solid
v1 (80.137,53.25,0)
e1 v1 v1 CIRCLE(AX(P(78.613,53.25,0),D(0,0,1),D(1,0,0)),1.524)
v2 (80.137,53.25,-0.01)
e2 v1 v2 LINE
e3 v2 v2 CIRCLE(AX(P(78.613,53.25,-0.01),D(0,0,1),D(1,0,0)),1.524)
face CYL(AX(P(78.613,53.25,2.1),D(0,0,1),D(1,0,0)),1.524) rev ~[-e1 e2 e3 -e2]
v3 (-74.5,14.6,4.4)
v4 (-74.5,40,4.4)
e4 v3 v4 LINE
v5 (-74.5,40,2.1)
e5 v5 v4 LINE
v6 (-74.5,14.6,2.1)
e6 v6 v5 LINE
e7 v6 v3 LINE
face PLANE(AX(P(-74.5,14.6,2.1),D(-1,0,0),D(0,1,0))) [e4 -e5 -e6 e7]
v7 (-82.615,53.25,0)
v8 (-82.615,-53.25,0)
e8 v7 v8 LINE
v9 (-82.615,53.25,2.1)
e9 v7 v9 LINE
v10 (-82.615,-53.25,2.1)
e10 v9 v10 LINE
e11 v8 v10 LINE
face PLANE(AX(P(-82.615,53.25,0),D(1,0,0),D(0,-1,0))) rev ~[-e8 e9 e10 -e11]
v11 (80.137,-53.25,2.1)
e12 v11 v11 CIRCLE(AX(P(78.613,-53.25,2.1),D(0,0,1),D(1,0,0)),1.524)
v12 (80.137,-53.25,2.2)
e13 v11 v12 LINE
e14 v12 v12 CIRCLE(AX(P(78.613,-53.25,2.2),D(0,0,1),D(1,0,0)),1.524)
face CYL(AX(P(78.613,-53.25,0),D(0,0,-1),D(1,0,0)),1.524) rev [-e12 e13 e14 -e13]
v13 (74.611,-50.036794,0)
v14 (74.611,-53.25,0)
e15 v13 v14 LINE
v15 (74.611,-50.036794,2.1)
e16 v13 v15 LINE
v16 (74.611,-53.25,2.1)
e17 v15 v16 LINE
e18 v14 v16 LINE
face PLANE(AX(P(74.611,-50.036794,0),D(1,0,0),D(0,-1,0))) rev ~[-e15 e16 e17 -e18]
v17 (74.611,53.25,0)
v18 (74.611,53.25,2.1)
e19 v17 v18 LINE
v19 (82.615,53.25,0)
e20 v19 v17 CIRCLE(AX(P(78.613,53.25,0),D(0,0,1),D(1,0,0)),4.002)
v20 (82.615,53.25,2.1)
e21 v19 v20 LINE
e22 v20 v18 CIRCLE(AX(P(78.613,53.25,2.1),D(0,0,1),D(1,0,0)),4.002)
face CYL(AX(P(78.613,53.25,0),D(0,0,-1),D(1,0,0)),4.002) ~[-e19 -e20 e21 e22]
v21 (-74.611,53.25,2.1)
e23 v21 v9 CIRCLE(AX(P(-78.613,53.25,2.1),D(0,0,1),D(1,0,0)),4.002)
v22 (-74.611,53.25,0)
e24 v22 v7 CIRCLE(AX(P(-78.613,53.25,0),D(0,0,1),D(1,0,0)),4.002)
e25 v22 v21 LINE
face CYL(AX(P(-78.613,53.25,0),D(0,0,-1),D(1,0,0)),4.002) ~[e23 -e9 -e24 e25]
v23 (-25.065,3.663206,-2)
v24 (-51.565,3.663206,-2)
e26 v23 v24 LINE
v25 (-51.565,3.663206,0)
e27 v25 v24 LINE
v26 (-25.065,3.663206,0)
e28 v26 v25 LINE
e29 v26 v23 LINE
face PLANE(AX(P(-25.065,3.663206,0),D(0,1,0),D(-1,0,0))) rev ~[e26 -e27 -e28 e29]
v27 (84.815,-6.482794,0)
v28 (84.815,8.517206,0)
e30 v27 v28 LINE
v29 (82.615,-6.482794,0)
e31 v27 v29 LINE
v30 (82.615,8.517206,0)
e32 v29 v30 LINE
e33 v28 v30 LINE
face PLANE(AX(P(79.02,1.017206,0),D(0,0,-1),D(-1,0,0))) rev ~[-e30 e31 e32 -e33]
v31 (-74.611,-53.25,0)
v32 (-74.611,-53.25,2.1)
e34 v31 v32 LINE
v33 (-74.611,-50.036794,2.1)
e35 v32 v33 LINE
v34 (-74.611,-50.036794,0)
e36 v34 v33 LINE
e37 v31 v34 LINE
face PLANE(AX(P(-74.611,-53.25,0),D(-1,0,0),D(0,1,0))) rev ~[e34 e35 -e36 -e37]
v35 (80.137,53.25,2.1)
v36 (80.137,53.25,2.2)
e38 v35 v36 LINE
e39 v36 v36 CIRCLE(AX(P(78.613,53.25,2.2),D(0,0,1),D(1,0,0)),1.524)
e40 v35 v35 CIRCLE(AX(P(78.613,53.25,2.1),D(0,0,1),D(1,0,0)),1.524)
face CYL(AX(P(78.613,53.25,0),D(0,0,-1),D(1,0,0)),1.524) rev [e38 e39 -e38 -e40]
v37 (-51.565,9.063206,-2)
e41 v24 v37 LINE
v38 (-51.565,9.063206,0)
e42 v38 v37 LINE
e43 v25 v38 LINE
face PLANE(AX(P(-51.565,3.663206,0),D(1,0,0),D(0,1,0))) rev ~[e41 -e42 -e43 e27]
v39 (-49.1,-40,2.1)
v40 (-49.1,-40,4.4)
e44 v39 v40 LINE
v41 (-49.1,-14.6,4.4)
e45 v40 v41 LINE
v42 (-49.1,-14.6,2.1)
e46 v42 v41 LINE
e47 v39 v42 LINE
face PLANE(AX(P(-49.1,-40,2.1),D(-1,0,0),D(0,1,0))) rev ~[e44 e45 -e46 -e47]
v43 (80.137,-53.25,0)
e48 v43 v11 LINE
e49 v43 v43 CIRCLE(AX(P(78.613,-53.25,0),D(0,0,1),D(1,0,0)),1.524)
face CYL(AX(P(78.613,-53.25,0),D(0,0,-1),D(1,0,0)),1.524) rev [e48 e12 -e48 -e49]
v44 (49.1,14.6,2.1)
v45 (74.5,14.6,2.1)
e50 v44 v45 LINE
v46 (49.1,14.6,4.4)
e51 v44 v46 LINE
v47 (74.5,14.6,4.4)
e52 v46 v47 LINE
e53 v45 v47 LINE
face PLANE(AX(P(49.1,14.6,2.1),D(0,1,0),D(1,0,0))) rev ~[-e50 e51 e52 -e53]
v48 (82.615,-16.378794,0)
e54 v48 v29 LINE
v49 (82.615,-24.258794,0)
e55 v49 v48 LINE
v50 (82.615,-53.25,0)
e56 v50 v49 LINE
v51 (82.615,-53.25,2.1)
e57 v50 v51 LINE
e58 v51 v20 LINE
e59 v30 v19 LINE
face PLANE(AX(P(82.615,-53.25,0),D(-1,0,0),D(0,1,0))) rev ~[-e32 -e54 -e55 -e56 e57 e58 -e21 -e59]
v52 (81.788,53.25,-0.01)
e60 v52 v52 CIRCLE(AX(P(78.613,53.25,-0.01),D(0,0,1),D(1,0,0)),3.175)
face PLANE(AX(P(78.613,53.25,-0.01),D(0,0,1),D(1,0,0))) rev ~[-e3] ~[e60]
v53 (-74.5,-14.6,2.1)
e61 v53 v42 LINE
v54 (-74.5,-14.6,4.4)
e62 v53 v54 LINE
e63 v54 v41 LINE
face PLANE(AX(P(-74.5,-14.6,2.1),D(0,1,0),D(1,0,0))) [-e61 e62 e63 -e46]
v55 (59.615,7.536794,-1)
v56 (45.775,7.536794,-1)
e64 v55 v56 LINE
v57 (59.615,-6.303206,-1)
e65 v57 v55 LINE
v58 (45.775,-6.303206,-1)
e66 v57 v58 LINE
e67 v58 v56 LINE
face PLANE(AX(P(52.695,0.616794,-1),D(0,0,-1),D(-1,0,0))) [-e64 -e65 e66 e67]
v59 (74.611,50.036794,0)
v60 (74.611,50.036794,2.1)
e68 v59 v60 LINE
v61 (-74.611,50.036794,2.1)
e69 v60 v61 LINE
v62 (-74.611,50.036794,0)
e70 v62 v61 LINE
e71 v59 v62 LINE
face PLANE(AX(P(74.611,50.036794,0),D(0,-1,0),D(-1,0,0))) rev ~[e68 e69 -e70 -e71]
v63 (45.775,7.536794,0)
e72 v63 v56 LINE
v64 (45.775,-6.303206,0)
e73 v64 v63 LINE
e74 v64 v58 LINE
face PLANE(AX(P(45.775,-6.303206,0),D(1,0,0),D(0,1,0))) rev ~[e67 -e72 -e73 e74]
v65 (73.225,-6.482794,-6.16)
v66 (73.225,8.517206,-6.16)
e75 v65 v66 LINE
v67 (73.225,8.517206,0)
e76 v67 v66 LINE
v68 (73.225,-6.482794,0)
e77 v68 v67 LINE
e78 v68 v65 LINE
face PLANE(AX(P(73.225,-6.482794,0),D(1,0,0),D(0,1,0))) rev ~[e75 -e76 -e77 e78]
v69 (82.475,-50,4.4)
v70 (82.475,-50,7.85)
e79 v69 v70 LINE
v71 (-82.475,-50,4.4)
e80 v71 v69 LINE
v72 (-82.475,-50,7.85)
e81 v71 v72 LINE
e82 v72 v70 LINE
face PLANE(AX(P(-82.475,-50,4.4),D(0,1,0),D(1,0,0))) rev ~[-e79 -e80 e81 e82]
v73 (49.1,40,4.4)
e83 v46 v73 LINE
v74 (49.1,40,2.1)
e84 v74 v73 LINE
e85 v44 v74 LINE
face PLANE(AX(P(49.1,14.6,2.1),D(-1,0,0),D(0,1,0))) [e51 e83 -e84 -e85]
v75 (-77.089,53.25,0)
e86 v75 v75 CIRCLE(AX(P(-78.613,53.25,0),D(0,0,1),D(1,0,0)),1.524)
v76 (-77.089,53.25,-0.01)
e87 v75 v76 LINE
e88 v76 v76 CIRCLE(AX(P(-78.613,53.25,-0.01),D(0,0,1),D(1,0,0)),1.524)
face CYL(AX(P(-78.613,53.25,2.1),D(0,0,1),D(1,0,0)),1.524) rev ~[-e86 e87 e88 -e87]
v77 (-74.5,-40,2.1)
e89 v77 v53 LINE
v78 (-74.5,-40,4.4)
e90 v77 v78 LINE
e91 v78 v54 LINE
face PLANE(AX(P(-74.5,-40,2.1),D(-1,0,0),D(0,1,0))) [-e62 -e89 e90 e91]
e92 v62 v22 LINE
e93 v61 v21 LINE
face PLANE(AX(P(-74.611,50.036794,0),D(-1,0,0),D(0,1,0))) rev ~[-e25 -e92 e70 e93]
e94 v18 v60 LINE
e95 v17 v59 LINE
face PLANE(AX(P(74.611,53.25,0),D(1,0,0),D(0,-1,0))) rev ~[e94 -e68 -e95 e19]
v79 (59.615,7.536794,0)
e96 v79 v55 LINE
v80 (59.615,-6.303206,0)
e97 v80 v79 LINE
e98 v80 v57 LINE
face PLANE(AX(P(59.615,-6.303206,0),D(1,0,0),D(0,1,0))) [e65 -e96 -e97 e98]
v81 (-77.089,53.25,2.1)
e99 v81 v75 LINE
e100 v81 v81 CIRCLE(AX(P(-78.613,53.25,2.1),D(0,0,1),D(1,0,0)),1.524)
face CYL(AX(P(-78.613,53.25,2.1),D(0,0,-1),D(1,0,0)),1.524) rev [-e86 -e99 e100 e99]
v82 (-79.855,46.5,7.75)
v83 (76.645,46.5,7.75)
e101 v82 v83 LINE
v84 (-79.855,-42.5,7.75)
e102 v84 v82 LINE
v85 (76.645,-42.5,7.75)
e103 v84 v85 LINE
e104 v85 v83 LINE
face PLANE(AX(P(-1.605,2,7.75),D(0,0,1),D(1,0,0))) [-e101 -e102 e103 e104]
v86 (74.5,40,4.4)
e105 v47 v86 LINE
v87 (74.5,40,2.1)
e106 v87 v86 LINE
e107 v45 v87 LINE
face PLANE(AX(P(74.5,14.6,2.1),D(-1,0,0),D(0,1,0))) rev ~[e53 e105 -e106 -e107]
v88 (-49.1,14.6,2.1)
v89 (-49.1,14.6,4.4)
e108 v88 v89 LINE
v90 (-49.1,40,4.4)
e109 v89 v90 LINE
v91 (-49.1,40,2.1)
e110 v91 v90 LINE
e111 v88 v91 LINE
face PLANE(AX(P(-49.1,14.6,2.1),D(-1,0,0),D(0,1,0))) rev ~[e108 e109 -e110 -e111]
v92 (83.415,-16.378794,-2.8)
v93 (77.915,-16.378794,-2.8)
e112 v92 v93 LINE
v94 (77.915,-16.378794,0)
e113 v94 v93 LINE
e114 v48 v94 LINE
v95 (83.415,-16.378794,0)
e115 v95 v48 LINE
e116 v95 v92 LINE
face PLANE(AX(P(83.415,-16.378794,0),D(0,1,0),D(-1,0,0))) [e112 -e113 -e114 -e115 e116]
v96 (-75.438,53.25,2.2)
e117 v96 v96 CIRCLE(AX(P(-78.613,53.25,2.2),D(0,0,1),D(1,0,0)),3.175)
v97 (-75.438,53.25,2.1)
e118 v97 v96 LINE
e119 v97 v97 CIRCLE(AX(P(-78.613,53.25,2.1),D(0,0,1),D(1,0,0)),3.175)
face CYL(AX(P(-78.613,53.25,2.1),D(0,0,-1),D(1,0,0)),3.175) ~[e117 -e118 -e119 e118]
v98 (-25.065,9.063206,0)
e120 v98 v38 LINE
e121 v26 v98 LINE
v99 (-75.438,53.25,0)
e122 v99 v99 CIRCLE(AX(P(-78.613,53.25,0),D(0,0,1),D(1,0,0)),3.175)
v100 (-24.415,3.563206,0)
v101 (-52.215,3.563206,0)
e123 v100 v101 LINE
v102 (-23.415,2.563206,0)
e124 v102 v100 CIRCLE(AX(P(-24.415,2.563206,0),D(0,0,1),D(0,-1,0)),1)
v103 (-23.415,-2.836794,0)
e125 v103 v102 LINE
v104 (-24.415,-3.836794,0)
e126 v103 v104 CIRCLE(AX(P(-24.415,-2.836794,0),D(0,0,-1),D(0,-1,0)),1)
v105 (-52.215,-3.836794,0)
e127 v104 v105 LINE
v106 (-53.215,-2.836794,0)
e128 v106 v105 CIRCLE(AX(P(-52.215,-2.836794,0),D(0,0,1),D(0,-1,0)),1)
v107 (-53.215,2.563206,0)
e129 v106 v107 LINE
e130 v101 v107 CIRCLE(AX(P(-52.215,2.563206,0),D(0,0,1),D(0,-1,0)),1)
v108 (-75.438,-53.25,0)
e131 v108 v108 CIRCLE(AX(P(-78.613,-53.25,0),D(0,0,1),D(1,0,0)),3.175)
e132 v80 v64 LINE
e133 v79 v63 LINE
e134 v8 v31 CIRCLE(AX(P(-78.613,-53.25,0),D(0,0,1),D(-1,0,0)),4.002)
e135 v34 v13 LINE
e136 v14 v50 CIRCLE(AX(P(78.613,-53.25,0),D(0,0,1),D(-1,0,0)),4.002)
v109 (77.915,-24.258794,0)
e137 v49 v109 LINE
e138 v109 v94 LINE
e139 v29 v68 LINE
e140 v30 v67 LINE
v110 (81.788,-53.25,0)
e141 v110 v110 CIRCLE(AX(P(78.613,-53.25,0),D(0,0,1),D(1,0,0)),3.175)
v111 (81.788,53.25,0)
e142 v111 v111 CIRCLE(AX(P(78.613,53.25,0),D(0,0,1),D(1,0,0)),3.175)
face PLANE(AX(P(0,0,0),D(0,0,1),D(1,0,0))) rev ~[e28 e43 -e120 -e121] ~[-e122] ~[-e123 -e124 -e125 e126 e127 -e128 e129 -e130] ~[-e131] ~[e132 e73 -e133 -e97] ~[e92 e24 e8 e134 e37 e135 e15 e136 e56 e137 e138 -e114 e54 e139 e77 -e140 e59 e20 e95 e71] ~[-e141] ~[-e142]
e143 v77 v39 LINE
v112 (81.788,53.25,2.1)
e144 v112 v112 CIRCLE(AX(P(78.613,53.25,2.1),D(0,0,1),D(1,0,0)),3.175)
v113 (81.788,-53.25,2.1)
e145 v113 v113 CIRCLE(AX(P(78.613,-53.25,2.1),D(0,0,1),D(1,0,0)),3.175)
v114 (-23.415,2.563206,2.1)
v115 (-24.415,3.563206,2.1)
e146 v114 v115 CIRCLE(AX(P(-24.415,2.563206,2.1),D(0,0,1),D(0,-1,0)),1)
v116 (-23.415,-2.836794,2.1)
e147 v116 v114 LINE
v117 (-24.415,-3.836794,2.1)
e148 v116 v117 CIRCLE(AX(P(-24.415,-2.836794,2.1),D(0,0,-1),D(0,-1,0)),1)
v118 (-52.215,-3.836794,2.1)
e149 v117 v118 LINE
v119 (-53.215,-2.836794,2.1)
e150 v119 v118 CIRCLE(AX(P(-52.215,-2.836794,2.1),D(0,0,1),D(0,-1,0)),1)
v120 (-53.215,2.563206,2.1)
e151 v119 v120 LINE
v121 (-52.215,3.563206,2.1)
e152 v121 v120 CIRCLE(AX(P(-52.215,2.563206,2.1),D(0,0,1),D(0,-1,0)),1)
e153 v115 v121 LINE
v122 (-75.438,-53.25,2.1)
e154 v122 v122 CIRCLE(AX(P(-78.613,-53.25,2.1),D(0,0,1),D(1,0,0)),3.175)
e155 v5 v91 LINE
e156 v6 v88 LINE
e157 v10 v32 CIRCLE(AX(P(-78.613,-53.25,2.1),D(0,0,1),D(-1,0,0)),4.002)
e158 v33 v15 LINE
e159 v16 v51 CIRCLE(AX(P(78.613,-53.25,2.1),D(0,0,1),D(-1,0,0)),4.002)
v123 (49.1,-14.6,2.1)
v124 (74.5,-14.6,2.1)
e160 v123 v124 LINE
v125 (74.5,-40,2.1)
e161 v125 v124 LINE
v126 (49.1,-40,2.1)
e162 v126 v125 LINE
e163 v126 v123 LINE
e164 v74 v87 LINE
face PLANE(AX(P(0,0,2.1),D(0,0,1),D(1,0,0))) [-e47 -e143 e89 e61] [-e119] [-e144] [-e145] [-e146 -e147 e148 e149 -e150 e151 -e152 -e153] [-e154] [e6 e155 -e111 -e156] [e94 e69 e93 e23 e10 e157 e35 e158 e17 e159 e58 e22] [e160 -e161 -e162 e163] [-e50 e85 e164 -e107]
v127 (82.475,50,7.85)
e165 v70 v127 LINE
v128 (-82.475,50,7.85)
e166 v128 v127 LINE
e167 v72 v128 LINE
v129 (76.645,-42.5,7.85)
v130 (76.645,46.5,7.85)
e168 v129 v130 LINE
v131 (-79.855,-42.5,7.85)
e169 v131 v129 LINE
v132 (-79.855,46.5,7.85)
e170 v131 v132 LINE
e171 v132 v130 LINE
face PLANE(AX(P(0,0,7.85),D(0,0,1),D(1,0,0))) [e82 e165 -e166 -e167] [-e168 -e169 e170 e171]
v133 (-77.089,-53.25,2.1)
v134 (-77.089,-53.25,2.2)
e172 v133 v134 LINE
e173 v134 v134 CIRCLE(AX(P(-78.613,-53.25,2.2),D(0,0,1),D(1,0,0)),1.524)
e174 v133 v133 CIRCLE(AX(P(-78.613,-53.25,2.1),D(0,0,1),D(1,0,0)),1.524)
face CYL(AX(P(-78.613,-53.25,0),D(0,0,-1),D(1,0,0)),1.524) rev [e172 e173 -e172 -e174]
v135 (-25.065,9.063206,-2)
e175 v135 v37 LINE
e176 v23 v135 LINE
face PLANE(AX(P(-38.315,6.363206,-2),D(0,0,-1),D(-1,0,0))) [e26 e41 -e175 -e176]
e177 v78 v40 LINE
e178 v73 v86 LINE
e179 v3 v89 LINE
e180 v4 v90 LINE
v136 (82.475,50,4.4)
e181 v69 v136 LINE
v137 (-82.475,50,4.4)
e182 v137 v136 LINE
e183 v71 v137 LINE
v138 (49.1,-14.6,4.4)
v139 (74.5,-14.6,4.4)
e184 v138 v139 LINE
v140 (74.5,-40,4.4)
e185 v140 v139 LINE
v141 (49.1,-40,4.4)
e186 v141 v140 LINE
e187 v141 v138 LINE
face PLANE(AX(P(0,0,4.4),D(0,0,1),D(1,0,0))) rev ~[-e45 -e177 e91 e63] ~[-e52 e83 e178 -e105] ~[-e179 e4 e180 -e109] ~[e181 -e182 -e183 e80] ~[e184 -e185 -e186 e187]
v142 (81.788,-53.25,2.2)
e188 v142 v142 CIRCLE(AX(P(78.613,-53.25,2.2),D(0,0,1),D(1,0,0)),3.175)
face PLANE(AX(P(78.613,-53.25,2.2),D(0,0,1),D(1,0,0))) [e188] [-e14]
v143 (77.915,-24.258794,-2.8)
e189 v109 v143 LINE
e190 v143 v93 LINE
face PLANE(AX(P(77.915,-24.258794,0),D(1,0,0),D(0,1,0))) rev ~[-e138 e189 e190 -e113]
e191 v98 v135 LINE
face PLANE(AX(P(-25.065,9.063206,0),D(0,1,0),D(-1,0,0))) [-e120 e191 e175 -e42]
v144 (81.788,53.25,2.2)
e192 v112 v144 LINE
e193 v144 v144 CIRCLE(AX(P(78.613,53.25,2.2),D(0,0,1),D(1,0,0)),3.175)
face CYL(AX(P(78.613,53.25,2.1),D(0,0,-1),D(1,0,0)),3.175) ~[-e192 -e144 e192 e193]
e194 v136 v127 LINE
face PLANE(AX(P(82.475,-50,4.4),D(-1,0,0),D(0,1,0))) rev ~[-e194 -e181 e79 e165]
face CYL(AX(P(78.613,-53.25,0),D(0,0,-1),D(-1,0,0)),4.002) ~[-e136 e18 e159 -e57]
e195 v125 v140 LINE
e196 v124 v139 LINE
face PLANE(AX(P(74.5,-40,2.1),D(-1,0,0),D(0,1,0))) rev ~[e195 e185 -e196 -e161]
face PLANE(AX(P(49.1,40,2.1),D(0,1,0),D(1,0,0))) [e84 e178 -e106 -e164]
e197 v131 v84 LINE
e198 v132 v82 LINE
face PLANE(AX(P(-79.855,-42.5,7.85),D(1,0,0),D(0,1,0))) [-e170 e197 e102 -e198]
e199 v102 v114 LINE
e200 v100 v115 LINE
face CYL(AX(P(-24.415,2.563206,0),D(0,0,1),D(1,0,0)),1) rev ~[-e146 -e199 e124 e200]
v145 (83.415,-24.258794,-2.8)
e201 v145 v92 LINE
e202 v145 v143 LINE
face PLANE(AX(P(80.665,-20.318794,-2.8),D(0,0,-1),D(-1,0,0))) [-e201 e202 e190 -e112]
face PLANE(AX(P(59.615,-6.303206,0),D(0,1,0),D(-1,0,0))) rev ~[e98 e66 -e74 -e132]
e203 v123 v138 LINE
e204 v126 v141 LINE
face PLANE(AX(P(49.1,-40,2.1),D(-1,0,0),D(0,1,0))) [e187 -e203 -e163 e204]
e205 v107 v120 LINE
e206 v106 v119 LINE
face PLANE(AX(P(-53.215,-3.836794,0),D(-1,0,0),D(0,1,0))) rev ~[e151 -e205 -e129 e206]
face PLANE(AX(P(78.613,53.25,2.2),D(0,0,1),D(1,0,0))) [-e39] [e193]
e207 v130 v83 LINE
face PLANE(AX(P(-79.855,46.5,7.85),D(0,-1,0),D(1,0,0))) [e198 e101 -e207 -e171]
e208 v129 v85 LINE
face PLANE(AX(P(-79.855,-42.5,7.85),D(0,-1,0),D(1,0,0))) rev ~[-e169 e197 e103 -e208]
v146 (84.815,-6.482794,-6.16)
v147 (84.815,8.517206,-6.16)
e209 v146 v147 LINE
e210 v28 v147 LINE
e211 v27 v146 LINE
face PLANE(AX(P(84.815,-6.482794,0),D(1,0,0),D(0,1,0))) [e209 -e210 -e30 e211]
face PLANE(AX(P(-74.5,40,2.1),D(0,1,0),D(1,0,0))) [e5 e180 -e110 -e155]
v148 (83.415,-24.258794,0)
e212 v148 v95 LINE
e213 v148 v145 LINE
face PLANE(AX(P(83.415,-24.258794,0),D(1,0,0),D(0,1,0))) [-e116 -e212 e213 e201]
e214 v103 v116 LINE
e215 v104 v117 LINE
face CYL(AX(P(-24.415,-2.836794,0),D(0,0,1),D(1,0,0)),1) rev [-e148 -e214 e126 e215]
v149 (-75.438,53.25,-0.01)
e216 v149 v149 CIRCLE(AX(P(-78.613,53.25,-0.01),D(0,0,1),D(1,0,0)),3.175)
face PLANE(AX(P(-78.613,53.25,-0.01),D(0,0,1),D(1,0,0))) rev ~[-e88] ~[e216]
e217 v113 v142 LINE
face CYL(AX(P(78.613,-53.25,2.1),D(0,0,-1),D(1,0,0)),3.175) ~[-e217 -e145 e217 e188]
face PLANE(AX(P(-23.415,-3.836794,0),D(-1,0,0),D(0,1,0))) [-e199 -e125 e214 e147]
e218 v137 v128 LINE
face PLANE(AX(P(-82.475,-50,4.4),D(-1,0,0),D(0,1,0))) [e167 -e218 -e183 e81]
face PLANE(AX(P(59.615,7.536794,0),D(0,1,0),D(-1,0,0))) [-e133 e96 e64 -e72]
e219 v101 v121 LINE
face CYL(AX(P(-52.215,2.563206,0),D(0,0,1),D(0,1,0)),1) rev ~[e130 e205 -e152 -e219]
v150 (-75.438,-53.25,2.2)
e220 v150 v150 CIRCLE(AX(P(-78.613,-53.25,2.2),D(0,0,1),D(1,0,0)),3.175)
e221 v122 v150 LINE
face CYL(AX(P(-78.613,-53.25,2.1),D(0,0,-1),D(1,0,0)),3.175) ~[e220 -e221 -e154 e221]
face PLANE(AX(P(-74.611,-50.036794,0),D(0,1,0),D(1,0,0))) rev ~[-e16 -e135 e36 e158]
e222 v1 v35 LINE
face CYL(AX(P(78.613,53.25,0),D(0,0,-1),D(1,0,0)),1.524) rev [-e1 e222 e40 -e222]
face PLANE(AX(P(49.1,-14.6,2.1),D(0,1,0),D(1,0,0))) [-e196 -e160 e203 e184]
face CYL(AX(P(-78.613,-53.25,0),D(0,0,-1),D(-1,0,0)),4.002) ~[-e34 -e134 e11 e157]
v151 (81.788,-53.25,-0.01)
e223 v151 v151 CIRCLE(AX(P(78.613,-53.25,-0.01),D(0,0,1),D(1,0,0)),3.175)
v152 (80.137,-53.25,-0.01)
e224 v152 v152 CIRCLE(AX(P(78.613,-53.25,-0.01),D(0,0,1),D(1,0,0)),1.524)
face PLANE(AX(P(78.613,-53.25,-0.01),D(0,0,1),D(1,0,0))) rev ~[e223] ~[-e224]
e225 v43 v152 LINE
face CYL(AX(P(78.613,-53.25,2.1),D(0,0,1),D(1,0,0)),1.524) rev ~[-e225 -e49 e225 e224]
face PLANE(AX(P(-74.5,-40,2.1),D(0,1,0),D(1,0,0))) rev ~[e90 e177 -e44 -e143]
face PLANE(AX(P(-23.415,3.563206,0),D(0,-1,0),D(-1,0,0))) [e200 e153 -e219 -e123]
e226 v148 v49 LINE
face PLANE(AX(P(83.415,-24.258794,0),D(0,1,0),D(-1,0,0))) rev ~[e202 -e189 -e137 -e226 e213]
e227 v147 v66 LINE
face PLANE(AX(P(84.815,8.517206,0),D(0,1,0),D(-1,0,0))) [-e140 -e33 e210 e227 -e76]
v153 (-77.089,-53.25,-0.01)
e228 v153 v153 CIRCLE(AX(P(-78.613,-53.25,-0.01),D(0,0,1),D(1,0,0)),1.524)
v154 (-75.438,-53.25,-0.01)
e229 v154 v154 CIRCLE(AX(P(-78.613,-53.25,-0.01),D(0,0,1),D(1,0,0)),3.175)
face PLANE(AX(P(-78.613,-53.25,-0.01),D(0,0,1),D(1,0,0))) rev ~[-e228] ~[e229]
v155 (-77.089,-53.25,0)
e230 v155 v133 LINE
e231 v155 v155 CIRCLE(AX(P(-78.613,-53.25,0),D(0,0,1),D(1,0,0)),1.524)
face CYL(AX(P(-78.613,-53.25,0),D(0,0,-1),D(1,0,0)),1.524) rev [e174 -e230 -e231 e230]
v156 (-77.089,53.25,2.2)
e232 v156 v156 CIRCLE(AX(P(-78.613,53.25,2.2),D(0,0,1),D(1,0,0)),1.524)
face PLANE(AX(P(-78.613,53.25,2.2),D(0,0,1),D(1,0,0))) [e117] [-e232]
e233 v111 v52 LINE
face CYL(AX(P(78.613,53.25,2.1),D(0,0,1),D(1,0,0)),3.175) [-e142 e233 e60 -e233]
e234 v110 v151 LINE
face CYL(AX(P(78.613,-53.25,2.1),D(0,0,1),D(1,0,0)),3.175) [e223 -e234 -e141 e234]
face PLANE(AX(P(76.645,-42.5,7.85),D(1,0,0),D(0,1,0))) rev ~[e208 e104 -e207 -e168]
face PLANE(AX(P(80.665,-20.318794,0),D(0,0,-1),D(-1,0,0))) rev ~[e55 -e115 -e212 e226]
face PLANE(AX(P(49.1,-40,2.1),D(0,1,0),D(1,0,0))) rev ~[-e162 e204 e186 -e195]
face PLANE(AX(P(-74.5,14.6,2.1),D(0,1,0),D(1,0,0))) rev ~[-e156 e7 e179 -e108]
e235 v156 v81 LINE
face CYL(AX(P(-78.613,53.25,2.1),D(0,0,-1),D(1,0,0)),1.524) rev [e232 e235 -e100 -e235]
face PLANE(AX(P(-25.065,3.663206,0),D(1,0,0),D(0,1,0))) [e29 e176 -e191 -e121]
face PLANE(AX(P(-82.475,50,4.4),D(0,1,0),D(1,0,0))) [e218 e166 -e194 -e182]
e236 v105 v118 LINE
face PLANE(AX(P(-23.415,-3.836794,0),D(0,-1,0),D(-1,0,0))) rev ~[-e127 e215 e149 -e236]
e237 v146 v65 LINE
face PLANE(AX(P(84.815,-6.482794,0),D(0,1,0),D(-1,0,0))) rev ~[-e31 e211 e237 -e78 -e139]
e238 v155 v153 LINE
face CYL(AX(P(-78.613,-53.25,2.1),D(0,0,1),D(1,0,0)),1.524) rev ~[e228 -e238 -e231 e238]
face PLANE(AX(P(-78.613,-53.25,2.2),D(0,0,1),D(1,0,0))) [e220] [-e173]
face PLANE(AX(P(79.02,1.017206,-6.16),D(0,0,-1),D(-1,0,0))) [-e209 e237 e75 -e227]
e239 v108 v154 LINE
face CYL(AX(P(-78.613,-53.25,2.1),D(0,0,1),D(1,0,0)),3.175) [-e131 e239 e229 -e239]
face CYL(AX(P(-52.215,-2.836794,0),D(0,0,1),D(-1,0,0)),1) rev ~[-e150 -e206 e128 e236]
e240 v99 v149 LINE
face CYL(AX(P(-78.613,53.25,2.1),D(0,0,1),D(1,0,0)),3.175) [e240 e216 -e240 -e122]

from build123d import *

# Parameters (mm, degrees)
ESQUISSE1_R             = 1.524
BOSS_EXTRU_1_DEPTH      = 2.1
ESQUISSE2_W             = 25.4
ESQUISSE2_H             = 25.4
BOSS_EXTRU_2_DEPTH      = 2.3
ESQUISSE3_W             = 164.95
ESQUISSE3_H             = 100
BOSS_EXTRU_3_DEPTH      = 3.45
ESQUISSE4_W             = 156.5
ESQUISSE4_H             = 89
ENL_V_MAT_EXTRU_1_DEPTH = 0.1
ESQUISSE5_W             = 29.8
ESQUISSE5_H             = 7.4
ENL_V_MAT_EXTRU_2_DEPTH = 2.1
CONG_1_R                = 1
ESQUISSE6_W             = 26.5
ESQUISSE6_H             = 5.4
BOSS_EXTRU_4_DEPTH      = 2
ESQUISSE7_W             = 11.59
ESQUISSE7_H             = 15
BOSS_EXTRU_5_DEPTH      = 6.16
ESQUISSE8_W             = 5.5
ESQUISSE8_H             = 7.88
BOSS_EXTRU_6_DEPTH      = 2.8
ESQUISSE9_W             = 13.84
ESQUISSE9_H             = 13.84
BOSS_EXTRU_7_DEPTH      = 1
ESQUISSE10_R            = 3.175
ESQUISSE10_R_2          = 1.524
BOSS_EXTRU_8_DEPTH      = 0.1
BOSS_EXTRU_8_DEPTH_BACK = 2.11


with BuildPart() as part:
    # Esquisse1 → Boss.-Extru.1 (new body)
    with BuildSketch(Plane.XY):
        with BuildLine():
            Line((-82.615, 53.25), (-82.615, -53.25))
            ThreePointArc((-82.615, -53.25), (-78.613, -57.252), (-74.611, -53.25))
            Line((-74.611, -53.25), (-74.611, -50.036793886))
            Line((-74.611, -50.036793886), (74.611, -50.036793886))
            Line((74.611, -50.036793886), (74.611, -53.25))
            ThreePointArc((74.611, -53.25), (78.613, -57.252), (82.615, -53.25))
            Line((82.615, -53.25), (82.615, 53.25))
            ThreePointArc((82.615, 53.25), (78.613, 57.252), (74.611, 53.25))
            Line((74.611, 53.25), (74.611, 50.036793886))
            Line((74.611, 50.036793886), (-74.611, 50.036793886))
            Line((-74.611, 50.036793886), (-74.611, 53.25))
            ThreePointArc((-74.611, 53.25), (-78.613, 57.252), (-82.615, 53.25))
        make_face()
        with Locations((-78.613, 53.25)):
            Circle(ESQUISSE1_R, mode=Mode.SUBTRACT)
        with Locations((-78.613, -53.25)):
            Circle(ESQUISSE1_R, mode=Mode.SUBTRACT)
        with Locations((78.613, -53.25)):
            Circle(ESQUISSE1_R, mode=Mode.SUBTRACT)
        with Locations((78.613, 53.25)):
            Circle(ESQUISSE1_R, mode=Mode.SUBTRACT)
    extrude(amount=BOSS_EXTRU_1_DEPTH)

    # Esquisse2 → Boss.-Extru.2 (add)
    with BuildSketch(Plane.XY.offset(2.1)):
        with Locations((-61.8, 27.3)):
            Rectangle(ESQUISSE2_W, ESQUISSE2_H)
        with Locations((-61.8, -27.3)):
            Rectangle(ESQUISSE2_W, ESQUISSE2_H)
        with Locations((61.8, 27.3)):
            Rectangle(ESQUISSE2_W, ESQUISSE2_H)
        with Locations((61.8, -27.3)):
            Rectangle(ESQUISSE2_W, ESQUISSE2_H)
    extrude(amount=BOSS_EXTRU_2_DEPTH)

    # Esquisse3 → Boss.-Extru.3 (add)
    with BuildSketch(Plane.XY.offset(4.4)):
        Rectangle(ESQUISSE3_W, ESQUISSE3_H)
    extrude(amount=BOSS_EXTRU_3_DEPTH)

    # Esquisse4 → Enlèv. mat.-Extru.1 (cut)
    with BuildSketch(Plane.XY.offset(7.85)):
        with Locations((-1.605, 2)):
            Rectangle(ESQUISSE4_W, ESQUISSE4_H)
    extrude(amount=-ENL_V_MAT_EXTRU_1_DEPTH, mode=Mode.SUBTRACT)

    # Esquisse5 → Enlèv. mat.-Extru.2 (cut)
    with BuildSketch(Plane(origin=(0, 0, 0), x_dir=(-1, 0, 0), z_dir=(0, 0, -1))):
        with Locations((38.315, -0.136793886)):
            Rectangle(ESQUISSE5_W, ESQUISSE5_H)
    extrude(amount=-ENL_V_MAT_EXTRU_2_DEPTH, mode=Mode.SUBTRACT)

    # Congé1
    cong_1_edges = [part.edges().sort_by_distance(p)[0] for p in [
        (-23.415, -3.836793886, 1.05),
        (-23.415, 3.563206114, 1.05),
        (-53.215, 3.563206114, 1.05),
        (-53.215, -3.836793886, 1.05),
    ]]
    fillet(cong_1_edges, radius=CONG_1_R)

    # Esquisse6 → Boss.-Extru.4 (add)
    with BuildSketch(Plane(origin=(0, 0, 0), x_dir=(-1, 0, 0), z_dir=(0, 0, -1))):
        with Locations((38.315, 6.363206114)):
            Rectangle(ESQUISSE6_W, ESQUISSE6_H)
    extrude(amount=BOSS_EXTRU_4_DEPTH)

    # Esquisse7 → Boss.-Extru.5 (add)
    with BuildSketch(Plane(origin=(0, 0, 0), x_dir=(-1, 0, 0), z_dir=(0, 0, -1))):
        with Locations((-79.02, 1.017206114)):
            Rectangle(ESQUISSE7_W, ESQUISSE7_H)
    extrude(amount=BOSS_EXTRU_5_DEPTH)

    # Esquisse8 → Boss.-Extru.6 (add)
    with BuildSketch(Plane(origin=(0, 0, 0), x_dir=(-1, 0, 0), z_dir=(0, 0, -1))):
        with Locations((-80.665, -20.318793886)):
            Rectangle(ESQUISSE8_W, ESQUISSE8_H)
    extrude(amount=BOSS_EXTRU_6_DEPTH)

    # Esquisse9 → Boss.-Extru.7 (add)
    with BuildSketch(Plane(origin=(0, 0, 0), x_dir=(-1, 0, 0), z_dir=(0, 0, -1))):
        with Locations((-52.695, 0.616793886)):
            Rectangle(ESQUISSE9_W, ESQUISSE9_H)
    extrude(amount=BOSS_EXTRU_7_DEPTH)

    # Esquisse10 → Boss.-Extru.8 (add, two sides)
    with BuildSketch(Plane.XY.offset(2.1)) as boss_extru_8_sk:
        with Locations((-78.613, 53.25)):
            Circle(ESQUISSE10_R)
        with Locations((-78.613, 53.25)):
            Circle(ESQUISSE10_R_2, mode=Mode.SUBTRACT)
        with Locations((-78.613, -53.25)):
            Circle(ESQUISSE10_R)
        with Locations((-78.613, -53.25)):
            Circle(ESQUISSE10_R_2, mode=Mode.SUBTRACT)
        with Locations((78.613, -53.25)):
            Circle(ESQUISSE10_R)
        with Locations((78.613, -53.25)):
            Circle(ESQUISSE10_R_2, mode=Mode.SUBTRACT)
        with Locations((78.613, 53.25)):
            Circle(ESQUISSE10_R)
        with Locations((78.613, 53.25)):
            Circle(ESQUISSE10_R_2, mode=Mode.SUBTRACT)
    extrude(amount=BOSS_EXTRU_8_DEPTH)
    extrude(boss_extru_8_sk.sketch, amount=-BOSS_EXTRU_8_DEPTH_BACK)


solid = part.part
